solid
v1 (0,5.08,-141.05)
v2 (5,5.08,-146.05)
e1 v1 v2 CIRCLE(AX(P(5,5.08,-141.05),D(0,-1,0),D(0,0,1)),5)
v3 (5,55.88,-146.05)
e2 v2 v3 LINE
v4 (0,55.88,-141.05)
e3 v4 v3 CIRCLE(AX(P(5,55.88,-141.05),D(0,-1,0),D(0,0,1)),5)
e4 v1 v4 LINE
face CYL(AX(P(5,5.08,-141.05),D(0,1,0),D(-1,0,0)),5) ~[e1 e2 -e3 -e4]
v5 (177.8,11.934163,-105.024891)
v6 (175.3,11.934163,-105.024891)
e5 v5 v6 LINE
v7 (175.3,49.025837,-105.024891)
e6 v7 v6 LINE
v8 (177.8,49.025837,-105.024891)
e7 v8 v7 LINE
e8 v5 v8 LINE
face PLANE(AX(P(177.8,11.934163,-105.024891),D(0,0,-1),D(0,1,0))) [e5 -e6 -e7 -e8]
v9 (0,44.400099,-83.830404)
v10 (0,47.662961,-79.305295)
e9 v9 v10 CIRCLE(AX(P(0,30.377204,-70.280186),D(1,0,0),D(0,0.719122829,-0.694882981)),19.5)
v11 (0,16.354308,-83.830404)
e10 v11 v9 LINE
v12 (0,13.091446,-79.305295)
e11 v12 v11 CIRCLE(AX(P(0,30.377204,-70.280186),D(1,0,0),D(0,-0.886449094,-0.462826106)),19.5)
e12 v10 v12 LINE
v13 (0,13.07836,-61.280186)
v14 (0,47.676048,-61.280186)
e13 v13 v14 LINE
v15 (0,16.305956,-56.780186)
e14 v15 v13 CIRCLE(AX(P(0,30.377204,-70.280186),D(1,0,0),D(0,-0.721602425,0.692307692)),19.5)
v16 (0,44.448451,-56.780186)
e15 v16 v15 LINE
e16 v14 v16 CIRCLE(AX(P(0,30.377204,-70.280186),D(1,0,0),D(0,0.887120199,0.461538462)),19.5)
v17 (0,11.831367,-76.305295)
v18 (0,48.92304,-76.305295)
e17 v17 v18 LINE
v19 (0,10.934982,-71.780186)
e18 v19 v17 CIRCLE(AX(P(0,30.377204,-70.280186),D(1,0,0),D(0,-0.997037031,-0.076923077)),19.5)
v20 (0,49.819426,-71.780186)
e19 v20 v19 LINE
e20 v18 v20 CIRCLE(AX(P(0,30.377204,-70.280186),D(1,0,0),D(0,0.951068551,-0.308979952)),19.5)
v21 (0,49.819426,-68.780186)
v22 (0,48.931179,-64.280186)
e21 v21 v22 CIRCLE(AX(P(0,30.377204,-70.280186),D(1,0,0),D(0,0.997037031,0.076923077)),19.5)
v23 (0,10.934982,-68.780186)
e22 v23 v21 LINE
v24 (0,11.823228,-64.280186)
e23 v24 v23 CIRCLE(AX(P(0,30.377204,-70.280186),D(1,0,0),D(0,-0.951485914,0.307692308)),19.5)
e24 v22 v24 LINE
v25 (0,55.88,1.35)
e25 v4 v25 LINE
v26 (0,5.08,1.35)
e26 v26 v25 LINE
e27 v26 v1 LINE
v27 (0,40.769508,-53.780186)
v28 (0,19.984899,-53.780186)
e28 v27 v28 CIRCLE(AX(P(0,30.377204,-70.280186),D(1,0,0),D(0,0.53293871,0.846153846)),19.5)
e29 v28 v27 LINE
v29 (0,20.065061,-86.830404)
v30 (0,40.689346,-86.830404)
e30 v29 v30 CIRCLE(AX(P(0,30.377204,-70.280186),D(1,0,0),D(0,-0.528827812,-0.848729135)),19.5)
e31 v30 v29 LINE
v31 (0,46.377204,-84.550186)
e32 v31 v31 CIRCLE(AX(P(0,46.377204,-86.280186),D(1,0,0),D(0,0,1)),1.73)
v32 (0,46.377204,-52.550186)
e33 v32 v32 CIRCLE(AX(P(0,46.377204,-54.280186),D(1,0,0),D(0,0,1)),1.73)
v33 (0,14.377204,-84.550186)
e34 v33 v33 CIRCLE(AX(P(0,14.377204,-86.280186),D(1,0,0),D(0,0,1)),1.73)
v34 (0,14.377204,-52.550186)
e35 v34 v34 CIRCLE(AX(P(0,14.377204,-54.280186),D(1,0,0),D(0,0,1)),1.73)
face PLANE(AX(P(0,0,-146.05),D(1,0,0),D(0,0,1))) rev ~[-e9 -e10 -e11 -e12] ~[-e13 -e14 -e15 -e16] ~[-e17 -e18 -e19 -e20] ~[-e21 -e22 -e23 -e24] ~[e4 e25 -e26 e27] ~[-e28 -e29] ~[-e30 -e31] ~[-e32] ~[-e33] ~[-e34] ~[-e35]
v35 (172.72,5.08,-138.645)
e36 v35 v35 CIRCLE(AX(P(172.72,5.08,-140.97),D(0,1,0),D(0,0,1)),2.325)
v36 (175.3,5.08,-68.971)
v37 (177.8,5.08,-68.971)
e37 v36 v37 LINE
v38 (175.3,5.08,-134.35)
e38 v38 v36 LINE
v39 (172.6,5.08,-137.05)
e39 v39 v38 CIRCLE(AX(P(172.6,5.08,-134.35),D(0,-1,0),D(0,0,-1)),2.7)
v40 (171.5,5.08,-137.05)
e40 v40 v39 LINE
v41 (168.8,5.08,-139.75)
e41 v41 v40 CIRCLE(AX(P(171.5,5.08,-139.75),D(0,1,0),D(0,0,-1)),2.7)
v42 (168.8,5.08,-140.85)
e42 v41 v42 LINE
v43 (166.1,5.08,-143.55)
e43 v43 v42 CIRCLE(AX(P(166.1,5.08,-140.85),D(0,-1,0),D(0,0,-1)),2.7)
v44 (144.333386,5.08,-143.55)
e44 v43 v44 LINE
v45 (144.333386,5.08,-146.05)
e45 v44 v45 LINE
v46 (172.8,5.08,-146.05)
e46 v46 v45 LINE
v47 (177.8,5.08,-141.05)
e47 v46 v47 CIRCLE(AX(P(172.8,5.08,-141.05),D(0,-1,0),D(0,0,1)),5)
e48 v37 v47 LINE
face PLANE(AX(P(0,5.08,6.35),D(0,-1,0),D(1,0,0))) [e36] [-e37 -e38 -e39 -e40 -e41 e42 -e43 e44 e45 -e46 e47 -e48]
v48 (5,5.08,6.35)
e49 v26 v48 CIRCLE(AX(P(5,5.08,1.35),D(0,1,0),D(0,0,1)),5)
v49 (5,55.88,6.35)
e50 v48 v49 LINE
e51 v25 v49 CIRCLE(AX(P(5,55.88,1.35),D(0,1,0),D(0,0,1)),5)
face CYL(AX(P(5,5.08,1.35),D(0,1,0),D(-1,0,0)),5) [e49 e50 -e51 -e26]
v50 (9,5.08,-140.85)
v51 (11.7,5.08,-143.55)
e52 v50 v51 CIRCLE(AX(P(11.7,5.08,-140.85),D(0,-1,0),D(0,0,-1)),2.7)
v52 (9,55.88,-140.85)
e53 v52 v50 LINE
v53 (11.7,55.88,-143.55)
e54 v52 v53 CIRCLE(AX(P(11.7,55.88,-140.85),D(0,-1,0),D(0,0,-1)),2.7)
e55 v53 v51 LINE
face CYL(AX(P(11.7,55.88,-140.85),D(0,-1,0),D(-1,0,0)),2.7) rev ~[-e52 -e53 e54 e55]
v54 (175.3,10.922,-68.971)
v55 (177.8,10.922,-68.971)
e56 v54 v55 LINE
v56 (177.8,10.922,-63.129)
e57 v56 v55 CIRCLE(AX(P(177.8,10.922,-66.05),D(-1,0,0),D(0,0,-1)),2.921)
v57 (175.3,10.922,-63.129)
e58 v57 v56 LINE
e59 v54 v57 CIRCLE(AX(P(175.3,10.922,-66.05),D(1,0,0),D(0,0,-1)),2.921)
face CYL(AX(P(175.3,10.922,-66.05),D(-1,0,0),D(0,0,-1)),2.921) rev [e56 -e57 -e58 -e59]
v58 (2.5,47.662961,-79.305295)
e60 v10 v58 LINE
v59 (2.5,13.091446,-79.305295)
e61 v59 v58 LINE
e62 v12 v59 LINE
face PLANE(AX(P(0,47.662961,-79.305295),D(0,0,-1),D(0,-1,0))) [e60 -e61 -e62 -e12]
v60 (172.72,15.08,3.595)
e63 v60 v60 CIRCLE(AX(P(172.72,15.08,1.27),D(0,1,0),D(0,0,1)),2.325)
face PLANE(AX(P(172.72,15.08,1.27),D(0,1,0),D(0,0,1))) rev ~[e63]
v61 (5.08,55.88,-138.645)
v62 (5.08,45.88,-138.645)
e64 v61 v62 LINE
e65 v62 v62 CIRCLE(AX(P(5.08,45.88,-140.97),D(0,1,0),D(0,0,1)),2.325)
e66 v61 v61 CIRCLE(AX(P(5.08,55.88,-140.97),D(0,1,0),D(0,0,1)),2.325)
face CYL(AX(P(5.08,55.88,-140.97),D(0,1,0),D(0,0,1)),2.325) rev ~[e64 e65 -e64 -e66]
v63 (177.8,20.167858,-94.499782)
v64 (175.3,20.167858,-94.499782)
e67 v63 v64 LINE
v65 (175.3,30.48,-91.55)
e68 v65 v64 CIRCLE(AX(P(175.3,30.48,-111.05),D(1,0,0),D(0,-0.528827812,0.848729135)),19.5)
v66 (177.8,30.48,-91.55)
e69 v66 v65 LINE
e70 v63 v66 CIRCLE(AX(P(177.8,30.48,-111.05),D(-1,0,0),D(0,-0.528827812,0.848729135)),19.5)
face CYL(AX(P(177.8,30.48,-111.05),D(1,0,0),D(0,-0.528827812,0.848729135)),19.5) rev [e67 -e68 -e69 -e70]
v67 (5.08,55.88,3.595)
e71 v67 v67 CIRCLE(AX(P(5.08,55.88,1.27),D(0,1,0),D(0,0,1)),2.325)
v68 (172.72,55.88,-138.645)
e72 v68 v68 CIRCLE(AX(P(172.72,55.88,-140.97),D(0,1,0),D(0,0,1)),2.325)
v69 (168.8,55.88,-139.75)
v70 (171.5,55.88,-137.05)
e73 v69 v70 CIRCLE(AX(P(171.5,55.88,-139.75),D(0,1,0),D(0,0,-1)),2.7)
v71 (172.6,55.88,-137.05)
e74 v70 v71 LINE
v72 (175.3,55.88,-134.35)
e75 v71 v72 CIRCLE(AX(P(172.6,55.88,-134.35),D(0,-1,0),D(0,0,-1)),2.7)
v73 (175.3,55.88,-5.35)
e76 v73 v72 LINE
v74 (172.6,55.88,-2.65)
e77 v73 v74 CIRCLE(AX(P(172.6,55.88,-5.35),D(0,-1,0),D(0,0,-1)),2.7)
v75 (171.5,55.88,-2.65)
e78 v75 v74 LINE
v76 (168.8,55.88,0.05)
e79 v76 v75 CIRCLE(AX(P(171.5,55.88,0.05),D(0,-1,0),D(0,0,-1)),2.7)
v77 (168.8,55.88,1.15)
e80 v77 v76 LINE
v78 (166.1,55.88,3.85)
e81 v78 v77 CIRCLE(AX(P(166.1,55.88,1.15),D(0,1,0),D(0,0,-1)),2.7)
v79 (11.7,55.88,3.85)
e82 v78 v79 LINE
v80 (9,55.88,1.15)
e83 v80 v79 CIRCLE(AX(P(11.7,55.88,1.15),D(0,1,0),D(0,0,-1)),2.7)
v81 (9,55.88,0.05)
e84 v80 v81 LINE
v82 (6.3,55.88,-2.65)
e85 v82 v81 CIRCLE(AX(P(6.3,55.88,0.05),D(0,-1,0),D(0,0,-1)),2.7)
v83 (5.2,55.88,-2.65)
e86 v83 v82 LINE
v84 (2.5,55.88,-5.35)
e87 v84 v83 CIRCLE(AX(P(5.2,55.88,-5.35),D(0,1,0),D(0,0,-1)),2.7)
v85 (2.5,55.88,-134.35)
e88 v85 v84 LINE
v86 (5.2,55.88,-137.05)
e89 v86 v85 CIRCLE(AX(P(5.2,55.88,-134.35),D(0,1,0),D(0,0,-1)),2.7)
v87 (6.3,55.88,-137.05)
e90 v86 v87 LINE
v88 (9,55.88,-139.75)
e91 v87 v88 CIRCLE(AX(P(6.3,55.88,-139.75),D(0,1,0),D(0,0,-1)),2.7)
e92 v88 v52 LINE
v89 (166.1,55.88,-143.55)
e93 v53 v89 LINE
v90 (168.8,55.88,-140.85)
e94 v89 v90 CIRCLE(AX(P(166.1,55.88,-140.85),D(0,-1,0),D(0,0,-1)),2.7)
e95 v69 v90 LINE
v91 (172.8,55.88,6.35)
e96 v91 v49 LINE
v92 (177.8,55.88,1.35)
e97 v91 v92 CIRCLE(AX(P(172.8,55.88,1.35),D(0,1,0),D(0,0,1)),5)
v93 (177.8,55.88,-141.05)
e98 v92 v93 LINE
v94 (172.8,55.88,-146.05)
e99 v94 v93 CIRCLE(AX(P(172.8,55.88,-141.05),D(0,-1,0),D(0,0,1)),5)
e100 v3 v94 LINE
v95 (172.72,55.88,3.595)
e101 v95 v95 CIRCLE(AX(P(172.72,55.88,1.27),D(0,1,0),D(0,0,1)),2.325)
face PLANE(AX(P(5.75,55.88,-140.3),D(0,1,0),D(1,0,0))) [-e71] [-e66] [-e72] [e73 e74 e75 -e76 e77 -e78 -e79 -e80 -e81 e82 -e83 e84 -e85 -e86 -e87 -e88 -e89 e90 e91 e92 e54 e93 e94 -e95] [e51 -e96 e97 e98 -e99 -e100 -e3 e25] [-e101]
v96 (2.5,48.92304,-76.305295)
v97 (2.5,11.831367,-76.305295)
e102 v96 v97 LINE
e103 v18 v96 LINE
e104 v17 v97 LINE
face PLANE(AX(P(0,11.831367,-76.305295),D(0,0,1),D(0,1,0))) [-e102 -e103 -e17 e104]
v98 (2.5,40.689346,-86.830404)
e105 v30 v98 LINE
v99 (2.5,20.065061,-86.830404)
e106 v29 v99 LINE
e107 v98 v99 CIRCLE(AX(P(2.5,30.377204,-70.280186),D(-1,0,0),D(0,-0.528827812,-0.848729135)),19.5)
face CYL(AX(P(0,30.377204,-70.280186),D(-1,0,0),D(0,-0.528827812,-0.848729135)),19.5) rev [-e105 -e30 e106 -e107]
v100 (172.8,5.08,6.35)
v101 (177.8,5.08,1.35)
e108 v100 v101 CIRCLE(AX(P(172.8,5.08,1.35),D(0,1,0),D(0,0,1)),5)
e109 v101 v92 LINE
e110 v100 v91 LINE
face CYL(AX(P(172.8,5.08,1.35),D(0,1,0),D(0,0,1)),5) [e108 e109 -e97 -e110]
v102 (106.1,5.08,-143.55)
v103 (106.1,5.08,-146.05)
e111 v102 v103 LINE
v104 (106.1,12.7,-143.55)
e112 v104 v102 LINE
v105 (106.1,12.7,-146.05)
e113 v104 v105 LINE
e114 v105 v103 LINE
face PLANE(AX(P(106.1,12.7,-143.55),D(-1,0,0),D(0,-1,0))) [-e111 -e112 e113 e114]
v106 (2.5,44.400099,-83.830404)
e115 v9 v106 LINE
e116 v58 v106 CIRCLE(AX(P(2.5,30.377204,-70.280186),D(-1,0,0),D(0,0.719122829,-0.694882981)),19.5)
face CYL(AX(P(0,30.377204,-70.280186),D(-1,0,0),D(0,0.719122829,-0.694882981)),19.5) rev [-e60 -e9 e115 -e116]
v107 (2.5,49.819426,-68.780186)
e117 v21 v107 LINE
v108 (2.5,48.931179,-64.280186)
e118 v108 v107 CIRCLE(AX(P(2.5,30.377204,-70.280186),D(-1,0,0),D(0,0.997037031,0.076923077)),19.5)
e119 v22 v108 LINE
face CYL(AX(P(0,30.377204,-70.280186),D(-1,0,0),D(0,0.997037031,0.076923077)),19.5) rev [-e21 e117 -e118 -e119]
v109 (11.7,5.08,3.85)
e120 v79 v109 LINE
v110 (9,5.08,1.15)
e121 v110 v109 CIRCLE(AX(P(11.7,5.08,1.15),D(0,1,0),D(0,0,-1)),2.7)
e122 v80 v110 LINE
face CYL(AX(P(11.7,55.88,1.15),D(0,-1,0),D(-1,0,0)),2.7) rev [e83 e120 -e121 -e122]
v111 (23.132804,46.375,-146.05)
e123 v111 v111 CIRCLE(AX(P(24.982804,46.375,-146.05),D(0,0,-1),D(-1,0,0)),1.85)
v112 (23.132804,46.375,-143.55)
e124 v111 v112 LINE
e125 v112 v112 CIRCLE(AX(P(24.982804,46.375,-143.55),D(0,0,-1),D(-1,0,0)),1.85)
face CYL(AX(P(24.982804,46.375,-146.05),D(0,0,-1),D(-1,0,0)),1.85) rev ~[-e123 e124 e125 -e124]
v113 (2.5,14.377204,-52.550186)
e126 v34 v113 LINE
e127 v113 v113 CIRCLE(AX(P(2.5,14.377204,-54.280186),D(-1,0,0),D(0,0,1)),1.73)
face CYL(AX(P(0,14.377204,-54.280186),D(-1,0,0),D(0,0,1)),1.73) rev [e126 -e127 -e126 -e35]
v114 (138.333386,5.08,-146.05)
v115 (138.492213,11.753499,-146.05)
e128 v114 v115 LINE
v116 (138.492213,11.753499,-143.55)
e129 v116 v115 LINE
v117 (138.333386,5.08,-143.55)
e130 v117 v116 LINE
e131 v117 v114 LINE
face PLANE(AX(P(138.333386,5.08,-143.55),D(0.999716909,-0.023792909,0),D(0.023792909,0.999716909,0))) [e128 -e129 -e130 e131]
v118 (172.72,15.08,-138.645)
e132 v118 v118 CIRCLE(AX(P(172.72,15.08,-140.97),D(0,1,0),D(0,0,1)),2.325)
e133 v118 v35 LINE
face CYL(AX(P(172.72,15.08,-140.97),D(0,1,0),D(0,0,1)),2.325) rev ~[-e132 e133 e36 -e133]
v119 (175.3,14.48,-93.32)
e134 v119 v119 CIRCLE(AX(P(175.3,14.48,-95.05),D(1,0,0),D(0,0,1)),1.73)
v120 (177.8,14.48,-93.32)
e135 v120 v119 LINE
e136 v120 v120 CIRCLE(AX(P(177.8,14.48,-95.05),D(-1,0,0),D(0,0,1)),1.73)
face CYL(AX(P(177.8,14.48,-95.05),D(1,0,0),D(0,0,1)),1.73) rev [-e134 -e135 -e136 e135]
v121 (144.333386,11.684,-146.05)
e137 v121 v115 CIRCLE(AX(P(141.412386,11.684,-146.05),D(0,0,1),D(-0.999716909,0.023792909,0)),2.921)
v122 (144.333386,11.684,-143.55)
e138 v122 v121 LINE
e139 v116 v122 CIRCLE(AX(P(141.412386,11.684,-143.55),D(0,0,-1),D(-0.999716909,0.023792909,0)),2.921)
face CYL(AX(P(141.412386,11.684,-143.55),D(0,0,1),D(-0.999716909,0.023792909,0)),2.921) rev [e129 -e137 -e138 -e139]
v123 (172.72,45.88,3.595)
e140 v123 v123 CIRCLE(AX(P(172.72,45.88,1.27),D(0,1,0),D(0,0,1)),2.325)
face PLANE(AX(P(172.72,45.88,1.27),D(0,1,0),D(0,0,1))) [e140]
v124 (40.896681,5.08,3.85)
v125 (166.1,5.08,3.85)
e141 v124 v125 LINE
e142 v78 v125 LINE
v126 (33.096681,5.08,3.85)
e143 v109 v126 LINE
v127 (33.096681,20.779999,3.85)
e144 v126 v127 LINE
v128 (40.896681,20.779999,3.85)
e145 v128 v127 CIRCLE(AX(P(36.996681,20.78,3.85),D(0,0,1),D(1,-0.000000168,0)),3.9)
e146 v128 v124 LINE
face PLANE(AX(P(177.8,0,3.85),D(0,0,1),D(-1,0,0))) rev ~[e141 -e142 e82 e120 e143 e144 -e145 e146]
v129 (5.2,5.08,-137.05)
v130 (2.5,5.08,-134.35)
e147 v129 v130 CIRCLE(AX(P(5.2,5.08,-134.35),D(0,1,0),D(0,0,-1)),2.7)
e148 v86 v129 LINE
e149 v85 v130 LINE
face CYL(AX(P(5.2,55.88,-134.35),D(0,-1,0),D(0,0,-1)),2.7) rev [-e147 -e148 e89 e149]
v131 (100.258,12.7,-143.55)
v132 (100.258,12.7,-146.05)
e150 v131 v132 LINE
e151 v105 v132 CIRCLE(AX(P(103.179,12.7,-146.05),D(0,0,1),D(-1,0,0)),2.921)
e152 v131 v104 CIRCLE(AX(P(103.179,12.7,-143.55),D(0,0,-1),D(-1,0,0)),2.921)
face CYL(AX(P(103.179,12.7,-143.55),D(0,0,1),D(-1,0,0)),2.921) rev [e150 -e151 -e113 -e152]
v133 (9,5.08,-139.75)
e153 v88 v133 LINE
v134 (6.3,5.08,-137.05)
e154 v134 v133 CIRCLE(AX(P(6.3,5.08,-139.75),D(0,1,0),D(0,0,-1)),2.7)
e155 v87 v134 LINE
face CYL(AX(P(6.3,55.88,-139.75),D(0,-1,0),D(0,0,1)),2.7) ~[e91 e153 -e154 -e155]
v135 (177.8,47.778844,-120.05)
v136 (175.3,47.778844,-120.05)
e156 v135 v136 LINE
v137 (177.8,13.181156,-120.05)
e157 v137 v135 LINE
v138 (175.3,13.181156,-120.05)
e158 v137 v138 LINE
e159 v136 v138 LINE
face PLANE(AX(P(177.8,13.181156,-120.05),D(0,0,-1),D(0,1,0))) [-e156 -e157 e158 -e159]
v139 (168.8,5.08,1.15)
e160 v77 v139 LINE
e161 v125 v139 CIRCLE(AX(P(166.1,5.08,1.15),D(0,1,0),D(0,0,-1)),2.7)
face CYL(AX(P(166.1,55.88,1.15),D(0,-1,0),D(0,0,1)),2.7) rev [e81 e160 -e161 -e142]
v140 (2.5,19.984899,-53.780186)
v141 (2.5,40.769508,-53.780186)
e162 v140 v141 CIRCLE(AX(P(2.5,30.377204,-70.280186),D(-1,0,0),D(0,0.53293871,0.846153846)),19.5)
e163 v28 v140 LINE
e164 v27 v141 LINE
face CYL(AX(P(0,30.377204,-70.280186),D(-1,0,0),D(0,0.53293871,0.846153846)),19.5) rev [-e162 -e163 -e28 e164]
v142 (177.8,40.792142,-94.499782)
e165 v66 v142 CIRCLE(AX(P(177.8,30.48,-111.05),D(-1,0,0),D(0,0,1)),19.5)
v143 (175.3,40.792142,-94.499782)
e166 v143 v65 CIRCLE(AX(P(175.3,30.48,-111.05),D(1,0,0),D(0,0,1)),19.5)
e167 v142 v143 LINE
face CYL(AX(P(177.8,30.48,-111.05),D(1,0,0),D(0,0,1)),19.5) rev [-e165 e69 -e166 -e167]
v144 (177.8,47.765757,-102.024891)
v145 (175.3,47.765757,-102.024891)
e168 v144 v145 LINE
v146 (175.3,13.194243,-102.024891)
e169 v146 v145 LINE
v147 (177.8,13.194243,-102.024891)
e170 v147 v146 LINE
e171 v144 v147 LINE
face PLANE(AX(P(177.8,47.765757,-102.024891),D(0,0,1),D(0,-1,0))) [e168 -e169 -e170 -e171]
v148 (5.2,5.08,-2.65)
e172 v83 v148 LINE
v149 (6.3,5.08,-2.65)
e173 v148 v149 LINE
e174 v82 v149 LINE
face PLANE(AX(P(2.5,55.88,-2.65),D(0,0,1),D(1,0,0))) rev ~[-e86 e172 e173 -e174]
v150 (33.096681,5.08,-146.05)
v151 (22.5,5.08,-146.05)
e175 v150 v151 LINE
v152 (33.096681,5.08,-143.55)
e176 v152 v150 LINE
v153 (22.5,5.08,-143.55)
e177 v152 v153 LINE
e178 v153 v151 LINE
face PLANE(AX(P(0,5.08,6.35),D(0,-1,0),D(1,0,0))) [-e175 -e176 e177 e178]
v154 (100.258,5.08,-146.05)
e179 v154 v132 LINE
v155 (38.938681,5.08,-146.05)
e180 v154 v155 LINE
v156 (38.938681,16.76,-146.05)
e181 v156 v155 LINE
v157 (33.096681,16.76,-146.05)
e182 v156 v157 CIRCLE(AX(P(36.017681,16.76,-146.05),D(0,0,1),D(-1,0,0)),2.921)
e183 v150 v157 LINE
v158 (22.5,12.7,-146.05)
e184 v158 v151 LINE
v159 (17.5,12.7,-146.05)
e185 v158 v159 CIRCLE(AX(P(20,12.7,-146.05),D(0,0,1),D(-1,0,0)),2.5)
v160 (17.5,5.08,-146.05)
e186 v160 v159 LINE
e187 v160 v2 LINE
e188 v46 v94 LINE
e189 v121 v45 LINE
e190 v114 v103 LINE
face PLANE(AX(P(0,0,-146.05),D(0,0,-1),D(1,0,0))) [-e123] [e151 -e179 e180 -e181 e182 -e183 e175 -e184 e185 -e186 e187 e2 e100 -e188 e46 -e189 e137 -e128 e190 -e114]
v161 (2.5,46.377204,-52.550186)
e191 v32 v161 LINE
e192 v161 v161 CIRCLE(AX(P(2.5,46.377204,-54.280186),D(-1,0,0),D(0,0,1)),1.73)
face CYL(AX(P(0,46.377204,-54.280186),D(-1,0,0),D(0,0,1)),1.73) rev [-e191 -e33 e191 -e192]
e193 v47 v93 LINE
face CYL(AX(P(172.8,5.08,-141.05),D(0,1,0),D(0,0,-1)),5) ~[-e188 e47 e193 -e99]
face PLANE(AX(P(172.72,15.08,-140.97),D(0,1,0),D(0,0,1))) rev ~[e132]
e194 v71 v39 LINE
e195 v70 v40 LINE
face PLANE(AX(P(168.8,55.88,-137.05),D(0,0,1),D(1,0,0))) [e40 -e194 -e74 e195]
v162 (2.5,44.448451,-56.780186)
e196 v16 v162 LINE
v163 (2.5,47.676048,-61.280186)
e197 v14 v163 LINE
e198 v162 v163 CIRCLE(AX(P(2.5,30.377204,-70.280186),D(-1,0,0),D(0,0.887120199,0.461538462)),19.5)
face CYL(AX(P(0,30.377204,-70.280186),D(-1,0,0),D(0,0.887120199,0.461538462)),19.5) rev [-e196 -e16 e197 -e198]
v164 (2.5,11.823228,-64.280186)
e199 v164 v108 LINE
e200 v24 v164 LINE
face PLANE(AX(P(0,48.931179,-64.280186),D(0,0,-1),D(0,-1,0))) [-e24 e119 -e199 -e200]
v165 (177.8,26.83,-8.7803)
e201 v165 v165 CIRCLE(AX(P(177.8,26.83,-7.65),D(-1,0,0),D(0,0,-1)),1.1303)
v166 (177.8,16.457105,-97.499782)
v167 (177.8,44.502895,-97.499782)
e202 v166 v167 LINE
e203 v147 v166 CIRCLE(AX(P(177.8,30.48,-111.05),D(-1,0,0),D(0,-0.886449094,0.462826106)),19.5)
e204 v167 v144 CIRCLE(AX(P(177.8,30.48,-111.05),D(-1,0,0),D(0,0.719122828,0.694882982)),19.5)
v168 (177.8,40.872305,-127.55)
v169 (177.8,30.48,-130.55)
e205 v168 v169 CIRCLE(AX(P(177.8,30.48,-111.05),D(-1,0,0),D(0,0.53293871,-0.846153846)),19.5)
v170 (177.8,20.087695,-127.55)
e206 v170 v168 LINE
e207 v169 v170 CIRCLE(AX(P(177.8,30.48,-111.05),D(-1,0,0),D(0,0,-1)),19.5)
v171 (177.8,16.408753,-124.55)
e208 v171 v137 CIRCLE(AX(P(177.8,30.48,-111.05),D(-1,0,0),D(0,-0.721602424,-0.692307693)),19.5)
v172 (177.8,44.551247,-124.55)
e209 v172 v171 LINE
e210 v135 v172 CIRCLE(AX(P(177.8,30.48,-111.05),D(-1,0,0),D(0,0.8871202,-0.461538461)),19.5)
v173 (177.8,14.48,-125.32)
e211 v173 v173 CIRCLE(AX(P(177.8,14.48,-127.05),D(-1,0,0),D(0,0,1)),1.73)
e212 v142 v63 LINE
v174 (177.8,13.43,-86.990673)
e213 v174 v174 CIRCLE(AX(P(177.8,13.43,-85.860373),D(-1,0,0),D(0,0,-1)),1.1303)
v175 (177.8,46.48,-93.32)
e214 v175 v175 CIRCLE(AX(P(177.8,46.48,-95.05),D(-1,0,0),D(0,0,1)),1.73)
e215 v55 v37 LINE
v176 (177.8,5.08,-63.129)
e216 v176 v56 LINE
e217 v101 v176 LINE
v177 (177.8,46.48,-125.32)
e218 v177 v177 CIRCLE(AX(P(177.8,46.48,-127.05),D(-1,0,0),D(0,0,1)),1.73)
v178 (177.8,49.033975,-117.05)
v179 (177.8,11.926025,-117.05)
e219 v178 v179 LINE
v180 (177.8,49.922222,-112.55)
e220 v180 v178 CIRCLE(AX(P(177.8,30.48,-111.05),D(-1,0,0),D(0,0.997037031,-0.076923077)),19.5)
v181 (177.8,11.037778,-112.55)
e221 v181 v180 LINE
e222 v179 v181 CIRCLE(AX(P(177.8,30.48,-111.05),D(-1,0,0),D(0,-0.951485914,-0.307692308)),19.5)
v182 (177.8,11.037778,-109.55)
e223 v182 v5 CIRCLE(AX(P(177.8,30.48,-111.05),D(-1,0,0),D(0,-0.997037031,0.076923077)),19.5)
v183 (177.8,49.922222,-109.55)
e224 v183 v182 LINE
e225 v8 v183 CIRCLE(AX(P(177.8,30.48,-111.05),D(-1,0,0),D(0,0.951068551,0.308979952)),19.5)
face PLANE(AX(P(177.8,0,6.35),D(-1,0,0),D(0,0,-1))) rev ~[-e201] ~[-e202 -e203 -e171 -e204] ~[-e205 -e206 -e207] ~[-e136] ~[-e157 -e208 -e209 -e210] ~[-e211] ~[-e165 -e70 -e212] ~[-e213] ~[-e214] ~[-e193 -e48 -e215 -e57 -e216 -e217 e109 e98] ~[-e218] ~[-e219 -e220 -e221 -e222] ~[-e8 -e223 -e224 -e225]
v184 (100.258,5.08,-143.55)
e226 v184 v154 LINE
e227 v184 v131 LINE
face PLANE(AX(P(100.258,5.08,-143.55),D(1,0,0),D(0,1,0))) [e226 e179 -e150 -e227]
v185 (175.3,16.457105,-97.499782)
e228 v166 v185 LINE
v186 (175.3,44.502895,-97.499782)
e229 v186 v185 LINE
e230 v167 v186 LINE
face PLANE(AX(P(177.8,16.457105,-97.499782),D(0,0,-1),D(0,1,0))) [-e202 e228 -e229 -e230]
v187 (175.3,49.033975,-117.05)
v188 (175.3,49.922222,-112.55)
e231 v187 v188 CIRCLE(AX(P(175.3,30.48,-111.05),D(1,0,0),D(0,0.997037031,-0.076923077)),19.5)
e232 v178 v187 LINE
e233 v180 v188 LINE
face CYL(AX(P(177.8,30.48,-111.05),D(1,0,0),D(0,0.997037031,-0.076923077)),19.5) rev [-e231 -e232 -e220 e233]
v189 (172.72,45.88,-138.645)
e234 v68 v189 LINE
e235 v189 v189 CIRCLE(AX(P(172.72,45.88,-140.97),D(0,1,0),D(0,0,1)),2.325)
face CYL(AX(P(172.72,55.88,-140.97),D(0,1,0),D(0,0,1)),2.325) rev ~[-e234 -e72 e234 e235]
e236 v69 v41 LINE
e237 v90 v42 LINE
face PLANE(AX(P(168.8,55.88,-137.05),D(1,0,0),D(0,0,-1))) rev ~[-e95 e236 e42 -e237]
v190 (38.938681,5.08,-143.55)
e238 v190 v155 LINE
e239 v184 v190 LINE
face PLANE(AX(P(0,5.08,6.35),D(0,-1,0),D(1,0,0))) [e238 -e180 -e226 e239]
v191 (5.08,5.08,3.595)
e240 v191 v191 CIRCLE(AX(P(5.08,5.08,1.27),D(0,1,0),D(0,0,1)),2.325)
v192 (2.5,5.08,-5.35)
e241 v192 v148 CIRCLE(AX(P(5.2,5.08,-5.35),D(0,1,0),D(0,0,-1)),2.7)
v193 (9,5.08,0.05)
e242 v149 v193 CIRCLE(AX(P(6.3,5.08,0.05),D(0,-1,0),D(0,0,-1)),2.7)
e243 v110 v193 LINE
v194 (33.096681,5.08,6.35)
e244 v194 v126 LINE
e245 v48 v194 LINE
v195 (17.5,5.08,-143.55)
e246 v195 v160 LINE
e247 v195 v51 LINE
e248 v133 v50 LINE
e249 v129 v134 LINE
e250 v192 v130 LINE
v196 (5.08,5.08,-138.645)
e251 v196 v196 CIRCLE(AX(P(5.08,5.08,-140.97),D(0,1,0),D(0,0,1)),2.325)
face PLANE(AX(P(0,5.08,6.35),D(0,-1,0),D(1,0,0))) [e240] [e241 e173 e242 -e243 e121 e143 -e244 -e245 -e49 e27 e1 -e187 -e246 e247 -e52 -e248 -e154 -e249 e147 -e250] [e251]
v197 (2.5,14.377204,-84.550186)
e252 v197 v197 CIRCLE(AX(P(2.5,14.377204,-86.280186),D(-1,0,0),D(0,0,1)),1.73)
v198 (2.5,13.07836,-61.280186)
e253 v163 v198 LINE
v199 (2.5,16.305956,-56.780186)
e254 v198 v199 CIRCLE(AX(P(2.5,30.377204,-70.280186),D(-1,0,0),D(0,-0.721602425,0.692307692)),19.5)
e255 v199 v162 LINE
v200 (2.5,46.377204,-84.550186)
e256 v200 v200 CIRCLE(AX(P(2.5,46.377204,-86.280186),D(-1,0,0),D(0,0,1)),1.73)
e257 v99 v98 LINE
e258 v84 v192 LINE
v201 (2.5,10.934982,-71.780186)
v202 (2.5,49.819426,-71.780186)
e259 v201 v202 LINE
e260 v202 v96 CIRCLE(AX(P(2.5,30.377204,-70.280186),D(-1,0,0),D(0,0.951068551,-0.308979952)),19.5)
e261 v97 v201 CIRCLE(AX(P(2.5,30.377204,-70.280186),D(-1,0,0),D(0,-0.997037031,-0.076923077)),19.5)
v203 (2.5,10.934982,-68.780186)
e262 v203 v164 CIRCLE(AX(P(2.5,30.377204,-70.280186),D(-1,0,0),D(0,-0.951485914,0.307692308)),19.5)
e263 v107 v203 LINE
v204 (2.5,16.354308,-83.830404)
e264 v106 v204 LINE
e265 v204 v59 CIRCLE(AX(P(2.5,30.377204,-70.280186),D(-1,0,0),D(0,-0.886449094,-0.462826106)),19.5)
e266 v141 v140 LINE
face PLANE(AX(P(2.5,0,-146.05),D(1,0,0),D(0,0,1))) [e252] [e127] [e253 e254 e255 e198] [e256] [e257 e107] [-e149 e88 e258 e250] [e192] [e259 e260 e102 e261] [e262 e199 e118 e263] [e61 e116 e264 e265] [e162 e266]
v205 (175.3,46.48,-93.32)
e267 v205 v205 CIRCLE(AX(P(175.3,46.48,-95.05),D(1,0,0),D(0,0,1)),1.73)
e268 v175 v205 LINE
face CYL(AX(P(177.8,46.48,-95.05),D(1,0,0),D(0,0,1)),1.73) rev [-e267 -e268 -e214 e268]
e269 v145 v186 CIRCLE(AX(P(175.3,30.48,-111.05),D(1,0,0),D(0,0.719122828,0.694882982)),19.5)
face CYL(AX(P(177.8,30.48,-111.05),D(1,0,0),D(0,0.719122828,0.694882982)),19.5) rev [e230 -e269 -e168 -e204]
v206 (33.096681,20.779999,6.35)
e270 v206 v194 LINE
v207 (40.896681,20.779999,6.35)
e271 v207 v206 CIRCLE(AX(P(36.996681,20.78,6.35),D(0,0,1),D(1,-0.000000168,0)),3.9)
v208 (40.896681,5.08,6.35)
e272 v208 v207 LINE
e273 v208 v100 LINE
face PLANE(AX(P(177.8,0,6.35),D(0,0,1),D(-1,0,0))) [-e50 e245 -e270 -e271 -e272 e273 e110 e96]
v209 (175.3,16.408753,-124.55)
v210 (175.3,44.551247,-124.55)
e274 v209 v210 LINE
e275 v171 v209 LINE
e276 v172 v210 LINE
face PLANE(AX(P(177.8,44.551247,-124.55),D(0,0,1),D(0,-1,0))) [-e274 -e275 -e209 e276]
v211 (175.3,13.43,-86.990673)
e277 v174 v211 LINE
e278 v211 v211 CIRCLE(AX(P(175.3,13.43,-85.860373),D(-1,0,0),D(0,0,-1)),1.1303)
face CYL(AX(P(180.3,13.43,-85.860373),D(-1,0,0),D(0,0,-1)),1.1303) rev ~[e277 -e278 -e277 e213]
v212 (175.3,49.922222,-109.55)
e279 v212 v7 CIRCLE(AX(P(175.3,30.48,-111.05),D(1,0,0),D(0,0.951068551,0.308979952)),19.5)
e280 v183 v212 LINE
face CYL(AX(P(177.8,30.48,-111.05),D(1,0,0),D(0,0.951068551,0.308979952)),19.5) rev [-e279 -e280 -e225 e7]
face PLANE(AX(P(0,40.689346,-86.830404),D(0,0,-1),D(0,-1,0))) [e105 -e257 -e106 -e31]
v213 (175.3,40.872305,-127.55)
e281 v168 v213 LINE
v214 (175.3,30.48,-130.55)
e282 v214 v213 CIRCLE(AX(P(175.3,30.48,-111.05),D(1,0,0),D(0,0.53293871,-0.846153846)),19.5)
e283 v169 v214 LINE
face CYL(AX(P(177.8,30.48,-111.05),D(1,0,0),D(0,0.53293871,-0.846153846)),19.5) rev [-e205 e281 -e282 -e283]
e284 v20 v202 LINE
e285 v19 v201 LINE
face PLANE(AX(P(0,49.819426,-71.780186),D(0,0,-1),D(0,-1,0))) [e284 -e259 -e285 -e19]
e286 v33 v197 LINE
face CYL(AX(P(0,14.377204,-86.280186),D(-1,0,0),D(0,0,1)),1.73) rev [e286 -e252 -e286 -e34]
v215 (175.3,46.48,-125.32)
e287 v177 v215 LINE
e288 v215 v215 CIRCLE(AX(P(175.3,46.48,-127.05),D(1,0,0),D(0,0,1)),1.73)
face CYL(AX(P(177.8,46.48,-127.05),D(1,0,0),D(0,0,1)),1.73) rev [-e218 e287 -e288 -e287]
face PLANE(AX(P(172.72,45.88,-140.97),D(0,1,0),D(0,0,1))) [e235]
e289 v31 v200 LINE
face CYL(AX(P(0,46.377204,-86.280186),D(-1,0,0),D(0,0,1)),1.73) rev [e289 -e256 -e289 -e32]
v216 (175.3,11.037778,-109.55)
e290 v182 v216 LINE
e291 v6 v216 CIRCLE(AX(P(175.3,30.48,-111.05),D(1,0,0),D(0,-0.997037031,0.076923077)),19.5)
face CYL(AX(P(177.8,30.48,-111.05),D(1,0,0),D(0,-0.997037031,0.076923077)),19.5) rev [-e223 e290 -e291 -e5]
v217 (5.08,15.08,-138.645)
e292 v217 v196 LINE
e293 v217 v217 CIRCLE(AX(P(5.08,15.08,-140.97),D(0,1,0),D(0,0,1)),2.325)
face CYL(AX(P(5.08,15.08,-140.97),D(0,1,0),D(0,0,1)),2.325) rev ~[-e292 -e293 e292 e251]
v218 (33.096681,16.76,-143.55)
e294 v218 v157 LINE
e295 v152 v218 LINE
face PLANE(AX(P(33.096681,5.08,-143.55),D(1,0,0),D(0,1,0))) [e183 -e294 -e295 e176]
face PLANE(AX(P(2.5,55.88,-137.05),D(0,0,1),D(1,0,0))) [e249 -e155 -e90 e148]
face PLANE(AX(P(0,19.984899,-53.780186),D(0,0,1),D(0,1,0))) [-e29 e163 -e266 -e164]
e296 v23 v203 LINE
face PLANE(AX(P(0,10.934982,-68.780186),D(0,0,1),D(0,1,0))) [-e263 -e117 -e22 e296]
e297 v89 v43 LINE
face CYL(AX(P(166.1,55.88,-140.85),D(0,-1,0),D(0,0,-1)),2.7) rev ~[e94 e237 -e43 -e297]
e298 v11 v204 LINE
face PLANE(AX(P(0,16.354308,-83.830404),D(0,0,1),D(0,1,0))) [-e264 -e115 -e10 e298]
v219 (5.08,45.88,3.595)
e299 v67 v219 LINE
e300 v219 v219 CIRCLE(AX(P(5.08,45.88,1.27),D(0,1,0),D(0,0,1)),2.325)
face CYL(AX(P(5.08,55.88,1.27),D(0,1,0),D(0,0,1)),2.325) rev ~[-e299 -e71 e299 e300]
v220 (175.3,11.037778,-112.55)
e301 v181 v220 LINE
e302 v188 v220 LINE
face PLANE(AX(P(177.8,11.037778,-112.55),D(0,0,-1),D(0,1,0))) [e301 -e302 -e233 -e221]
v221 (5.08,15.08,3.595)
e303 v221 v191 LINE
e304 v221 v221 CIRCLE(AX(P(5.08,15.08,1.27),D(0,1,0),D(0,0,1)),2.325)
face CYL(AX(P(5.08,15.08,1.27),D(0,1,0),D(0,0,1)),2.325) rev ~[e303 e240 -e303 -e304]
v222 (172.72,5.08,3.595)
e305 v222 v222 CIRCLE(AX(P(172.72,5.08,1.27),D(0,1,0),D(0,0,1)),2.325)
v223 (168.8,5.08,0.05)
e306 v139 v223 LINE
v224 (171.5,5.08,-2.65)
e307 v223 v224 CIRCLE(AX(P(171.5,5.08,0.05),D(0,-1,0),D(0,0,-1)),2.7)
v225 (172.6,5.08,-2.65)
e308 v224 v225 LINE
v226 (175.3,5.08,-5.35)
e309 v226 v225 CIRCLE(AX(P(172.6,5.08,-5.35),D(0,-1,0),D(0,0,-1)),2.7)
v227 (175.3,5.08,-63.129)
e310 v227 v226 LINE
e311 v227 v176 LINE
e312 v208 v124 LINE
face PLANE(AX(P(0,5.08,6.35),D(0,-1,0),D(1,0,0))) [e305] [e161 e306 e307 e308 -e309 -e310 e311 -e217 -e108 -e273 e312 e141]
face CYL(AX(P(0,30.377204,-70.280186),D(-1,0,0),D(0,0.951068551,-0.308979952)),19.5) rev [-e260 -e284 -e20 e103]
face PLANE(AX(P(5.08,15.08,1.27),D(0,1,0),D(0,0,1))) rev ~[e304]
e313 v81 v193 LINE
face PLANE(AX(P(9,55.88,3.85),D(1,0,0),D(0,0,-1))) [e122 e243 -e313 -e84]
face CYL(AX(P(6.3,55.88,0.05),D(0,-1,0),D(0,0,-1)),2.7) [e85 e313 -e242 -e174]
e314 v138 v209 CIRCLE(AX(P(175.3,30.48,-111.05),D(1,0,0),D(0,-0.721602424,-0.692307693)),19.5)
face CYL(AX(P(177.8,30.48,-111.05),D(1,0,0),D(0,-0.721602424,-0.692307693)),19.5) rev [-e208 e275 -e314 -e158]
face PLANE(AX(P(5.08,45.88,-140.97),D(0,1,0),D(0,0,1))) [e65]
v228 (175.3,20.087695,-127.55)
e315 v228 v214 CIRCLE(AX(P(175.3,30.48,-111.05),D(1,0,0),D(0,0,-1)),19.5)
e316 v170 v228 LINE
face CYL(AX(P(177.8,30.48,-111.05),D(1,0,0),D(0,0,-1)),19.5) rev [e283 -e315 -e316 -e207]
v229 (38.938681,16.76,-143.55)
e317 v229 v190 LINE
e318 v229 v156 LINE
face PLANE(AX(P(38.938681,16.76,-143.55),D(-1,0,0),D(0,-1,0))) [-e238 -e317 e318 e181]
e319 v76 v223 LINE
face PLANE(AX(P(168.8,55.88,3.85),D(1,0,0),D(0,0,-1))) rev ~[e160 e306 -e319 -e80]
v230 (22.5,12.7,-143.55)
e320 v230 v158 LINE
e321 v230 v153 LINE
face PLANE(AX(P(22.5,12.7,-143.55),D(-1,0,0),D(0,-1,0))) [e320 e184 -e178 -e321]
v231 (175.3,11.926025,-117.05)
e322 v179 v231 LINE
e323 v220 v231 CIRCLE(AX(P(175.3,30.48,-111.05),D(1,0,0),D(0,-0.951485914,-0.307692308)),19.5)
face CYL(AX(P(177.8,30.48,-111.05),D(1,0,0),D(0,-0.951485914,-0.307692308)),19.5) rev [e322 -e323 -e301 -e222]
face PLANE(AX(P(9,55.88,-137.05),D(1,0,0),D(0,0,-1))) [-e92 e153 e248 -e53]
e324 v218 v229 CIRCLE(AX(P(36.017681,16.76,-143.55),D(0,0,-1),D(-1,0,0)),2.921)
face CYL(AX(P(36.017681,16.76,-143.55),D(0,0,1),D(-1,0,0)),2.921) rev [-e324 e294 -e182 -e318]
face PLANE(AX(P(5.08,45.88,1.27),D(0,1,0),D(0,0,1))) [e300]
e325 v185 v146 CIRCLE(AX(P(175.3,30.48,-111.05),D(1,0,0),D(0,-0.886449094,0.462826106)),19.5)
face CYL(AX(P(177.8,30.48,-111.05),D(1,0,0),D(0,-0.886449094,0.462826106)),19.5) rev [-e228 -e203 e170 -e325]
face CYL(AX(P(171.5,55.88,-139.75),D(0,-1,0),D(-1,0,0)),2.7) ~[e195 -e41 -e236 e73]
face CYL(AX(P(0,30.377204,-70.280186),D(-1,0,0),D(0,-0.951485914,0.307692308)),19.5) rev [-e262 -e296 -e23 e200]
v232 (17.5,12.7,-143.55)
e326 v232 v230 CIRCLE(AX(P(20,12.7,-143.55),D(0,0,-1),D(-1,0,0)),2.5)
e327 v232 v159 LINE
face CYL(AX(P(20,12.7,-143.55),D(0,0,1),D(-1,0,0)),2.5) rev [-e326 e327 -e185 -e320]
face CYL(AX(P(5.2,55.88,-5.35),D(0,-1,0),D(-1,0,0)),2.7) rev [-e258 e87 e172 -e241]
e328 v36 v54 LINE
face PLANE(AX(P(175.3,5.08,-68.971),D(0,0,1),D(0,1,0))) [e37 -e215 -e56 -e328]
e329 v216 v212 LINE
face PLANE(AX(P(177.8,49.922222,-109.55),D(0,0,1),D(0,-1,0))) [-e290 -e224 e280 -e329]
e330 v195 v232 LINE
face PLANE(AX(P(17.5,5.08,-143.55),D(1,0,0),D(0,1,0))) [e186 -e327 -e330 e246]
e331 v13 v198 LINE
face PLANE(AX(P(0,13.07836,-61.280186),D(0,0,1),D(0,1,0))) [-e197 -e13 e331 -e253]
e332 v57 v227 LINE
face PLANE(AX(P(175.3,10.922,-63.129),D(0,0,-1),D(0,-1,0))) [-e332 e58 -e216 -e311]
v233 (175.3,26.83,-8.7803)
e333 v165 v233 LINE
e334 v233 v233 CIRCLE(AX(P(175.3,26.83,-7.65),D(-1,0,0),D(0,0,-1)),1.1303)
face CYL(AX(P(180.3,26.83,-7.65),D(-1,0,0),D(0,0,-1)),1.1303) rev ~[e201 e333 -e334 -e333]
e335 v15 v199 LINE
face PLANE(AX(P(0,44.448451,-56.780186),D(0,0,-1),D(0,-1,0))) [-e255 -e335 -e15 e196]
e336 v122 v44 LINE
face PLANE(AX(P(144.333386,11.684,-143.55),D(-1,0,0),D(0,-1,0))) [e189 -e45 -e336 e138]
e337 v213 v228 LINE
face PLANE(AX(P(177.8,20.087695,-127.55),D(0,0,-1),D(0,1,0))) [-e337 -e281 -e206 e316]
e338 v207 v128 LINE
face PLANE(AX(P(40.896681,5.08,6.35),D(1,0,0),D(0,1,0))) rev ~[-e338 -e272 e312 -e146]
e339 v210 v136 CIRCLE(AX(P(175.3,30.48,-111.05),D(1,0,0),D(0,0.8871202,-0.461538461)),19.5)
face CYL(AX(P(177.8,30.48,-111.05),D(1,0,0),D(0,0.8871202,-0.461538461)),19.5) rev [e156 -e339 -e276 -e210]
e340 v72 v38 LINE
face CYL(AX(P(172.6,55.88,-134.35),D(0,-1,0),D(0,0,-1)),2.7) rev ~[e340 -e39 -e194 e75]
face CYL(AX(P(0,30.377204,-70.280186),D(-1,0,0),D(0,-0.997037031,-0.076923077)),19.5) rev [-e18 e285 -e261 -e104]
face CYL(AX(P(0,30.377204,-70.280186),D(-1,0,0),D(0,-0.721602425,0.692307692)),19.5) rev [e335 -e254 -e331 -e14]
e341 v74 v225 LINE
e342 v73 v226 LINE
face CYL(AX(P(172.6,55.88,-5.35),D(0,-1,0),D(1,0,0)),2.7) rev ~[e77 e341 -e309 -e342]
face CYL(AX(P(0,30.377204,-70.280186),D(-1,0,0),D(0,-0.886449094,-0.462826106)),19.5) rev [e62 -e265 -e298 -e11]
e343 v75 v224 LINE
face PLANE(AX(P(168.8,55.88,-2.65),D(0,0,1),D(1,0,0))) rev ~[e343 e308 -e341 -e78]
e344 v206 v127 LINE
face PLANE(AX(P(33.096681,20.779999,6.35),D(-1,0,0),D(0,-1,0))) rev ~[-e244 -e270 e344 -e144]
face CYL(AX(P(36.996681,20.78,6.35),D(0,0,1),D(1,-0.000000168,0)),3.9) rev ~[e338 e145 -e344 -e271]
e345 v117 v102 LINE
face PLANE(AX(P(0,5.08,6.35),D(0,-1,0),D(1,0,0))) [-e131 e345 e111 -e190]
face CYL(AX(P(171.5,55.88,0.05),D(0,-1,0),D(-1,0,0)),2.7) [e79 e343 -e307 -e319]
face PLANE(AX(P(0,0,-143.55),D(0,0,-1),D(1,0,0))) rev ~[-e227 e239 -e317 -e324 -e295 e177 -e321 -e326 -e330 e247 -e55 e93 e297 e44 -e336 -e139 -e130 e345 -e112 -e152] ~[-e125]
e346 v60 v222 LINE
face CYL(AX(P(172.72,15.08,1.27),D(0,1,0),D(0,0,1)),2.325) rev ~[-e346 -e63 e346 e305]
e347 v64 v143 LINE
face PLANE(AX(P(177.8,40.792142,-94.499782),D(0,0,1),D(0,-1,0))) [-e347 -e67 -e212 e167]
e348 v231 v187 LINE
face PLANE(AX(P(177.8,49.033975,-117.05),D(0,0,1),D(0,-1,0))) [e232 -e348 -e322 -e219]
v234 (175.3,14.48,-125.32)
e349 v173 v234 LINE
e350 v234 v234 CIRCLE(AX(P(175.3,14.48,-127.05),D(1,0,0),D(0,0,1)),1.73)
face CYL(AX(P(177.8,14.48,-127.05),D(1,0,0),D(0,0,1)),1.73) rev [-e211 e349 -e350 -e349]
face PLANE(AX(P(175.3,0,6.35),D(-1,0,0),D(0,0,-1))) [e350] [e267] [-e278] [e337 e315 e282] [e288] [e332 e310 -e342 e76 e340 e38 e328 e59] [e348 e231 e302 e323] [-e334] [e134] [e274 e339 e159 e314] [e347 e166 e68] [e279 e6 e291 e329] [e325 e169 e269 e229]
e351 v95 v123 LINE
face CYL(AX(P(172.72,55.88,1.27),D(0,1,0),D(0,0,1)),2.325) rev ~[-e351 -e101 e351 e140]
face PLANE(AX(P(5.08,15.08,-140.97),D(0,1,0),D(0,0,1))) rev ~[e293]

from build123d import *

# Parameters (mm, degrees)
BOSS_EXTRUDE1_DEPTH           = 55.88
SHELL1_T                      = -2.5
SKETCH3_W                     = 6.5
SKETCH3_H                     = 6.5
BOSS_EXTRUDE2_DEPTH           = 53.38
SKETCH35_R                    = 2.325
TOP_HOLES_DEPTH               = 10
SKETCH10_W                    = 177.8
SKETCH10_H                    = 5.08
CUT_BOTTOM_OFF_DEPTH          = 241.751270817
BOTTOM_START                  = 10
SKETCH17_R                    = 2.325
BOTTOM_OF_TOP_HOLES_DEPTH     = 10
CUT_FOR_ETHERNET_CABLE_REACH  = 341.742
KEYCARD_REACH                 = 236.911
FILLET1_R                     = 2.7
USB_B_REACH                   = 241.177
FILLET2_R                     = 5
SKETCH23_R                    = 1.73
RIGHTFAN_DEPTH                = 10
SKETCH36_R                    = 1.73
CUT_EXTRUDE1_DEPTH            = 10
CUT_EXTRUDE2_REACH            = 242.751
SKETCH42_R                    = 1.85
CUT_EXTRUDE3_REACH            = 242.751
TAP_DRILL_FOR_4_40_TAP1_D     = 2.2606
TAP_DRILL_FOR_4_40_TAP1_DEPTH = 2.5


with BuildPart() as part:
    # Sketch1 → Boss-Extrude1 (new body)
    with BuildSketch(Plane(origin=(0, 0, 0), x_dir=(1, 0, 0), z_dir=(0, 1, 0))):
        Polygon((0, 0), (0, 146.05), (177.8, 146.05), (177.8, 0), (177.8, -6.35), (0, -6.35), align=None)
    extrude(amount=BOSS_EXTRUDE1_DEPTH)

    # Shell1
    shell1_openings = [part.faces().sort_by_distance(p)[0] for p in [
        (88.9, 55.88, -69.85),
    ]]
    offset(amount=SHELL1_T, openings=shell1_openings, kind=Kind.INTERSECTION)

    # Sketch3 → Boss-Extrude2 (add)
    with BuildSketch(Plane(origin=(0, 55.88, 0), x_dir=(1, 0, 0), z_dir=(0, 1, 0))):
        with Locations((5.75, 140.3)):
            Rectangle(SKETCH3_W, SKETCH3_H)
        with Locations((172.05, 140.3)):
            Rectangle(SKETCH3_W, SKETCH3_H)
        with Locations((172.05, -0.6)):
            Rectangle(SKETCH3_W, SKETCH3_H)
        with Locations((5.75, -0.6)):
            Rectangle(SKETCH3_W, SKETCH3_H)
    extrude(amount=-BOSS_EXTRUDE2_DEPTH)

    # Sketch35 → Top holes (cut)
    with BuildSketch(Plane(origin=(0, 55.88, -60.96), x_dir=(-1, 0, 0), z_dir=(0, 1, 0))):
        with Locations(Location((-172.72, 62.23, 0), (0, 0, 90))):
            Circle(SKETCH35_R)
        with Locations(Location((-5.08, 62.23, 0), (0, 0, 90))):
            Circle(SKETCH35_R)
        with Locations(Location((-172.72, -80.01, 0), (0, 0, 90))):
            Circle(SKETCH35_R)
        with Locations(Location((-5.08, -80.01, 0), (0, 0, 90))):
            Circle(SKETCH35_R)
    extrude(amount=-TOP_HOLES_DEPTH, mode=Mode.SUBTRACT)

    # Sketch10 → cut Bottom off (cut, through all)
    with BuildSketch(Plane.XY.offset(6.35)):
        with Locations((88.9, 2.54)):
            Rectangle(SKETCH10_W, SKETCH10_H)
    extrude(amount=-CUT_BOTTOM_OFF_DEPTH, mode=Mode.SUBTRACT)

    # Sketch17 → Bottom of Top holes (cut)
    with BuildSketch(Plane(origin=(0, 5.08, 5.08), x_dir=(1, 0, 0), z_dir=(0, 1, 0)).offset(BOTTOM_START)):
        with Locations(Location((5.08, 146.05, 0), (0, 0, 270))):
            Circle(SKETCH17_R)
        with Locations(Location((172.72, 146.05, 0), (0, 0, 270))):
            Circle(SKETCH17_R)
        with Locations(Location((5.08, 3.81, 0), (0, 0, 270))):
            Circle(SKETCH17_R)
        with Locations(Location((172.72, 3.81, 0), (0, 0, 270))):
            Circle(SKETCH17_R)
    extrude(amount=-BOTTOM_OF_TOP_HOLES_DEPTH, mode=Mode.SUBTRACT)

    # Sketch12 → cut for Ethernet Cable (cut, up to next)
    with BuildSketch(Plane(origin=(299.72, 0, -143.55), x_dir=(1, 0, 0), z_dir=(0, 0, 1)), mode=Mode.PRIVATE) as cut_for_ethernet_cable_sk1:
        with BuildLine():
            Line((-155.386614113, 11.683999534), (-155.386614113, 5.08))
            Line((-155.386614113, 5.08), (-161.386614113, 5.08))
            Line((-161.386614113, 5.08), (-161.227787203, 11.753498622))
            ThreePointArc((-161.227787203, 11.753498622), (-158.272862109, 14.604792799), (-155.386614113, 11.683999534))
        make_face()
    cut_for_ethernet_cable_tool1 = extrude(cut_for_ethernet_cable_sk1.sketch, amount=-CUT_FOR_ETHERNET_CABLE_REACH, mode=Mode.PRIVATE) & part.part
    add(cut_for_ethernet_cable_tool1.solids().sort_by_distance((141.382684, 9.530384, -143.55))[0], mode=Mode.SUBTRACT)

    # Sketch16 → Keycard (cut, up to next)
    with BuildSketch(Plane.ZY.offset(-175.3), mode=Mode.PRIVATE) as keycard_sk1:
        with BuildLine():
            Line((-63.129, 10.922), (-63.129, 5.08))
            Line((-63.129, 5.08), (-68.971, 5.08))
            Line((-68.971, 5.08), (-68.971, 10.922))
            ThreePointArc((-68.971, 10.922), (-66.05, 13.843), (-63.129, 10.922))
        make_face()
    keycard_tool1 = extrude(keycard_sk1.sketch, amount=-KEYCARD_REACH, mode=Mode.PRIVATE) & part.part
    add(keycard_tool1.solids().sort_by_distance((175.3, 9.174195, -66.05))[0], mode=Mode.SUBTRACT)

    # Fillet1
    fillet1_edges = [part.edges().sort_by_distance(p)[0] for p in [
        (168.8, 30.48, -2.65),
        (175.3, 30.48, -2.65),
        (168.8, 30.48, 3.85),
        (9, 30.48, -2.65),
        (9, 30.48, 3.85),
        (2.5, 30.48, -2.65),
        (168.8, 30.48, -137.05),
        (168.8, 30.48, -143.55),
        (175.3, 30.48, -137.05),
        (9, 30.48, -137.05),
        (2.5, 30.48, -137.05),
        (9, 30.48, -143.55),
    ]]
    fillet(fillet1_edges, radius=FILLET1_R)

    # Sketch13 → usb B (cut, up to next)
    with BuildSketch(Plane.XY.offset(-143.55), mode=Mode.PRIVATE) as usb_b_sk1:
        with BuildLine():
            Line((106.1, 12.7), (106.1, 5.08))
            Line((106.1, 5.08), (100.258, 5.08))
            Line((100.258, 5.08), (100.258, 12.7))
            ThreePointArc((100.258, 12.7), (103.179, 15.621), (106.1, 12.7))
        make_face()
    usb_b_tool1 = extrude(usb_b_sk1.sketch, amount=-USB_B_REACH, mode=Mode.PRIVATE) & part.part
    # Sketch13 → usb B (cut, up to next)
    with BuildSketch(Plane.XY.offset(-143.55), mode=Mode.PRIVATE) as usb_b_sk2:
        with BuildLine():
            Line((38.938681111, 16.76), (38.938681111, 5.08))
            Line((38.938681111, 5.08), (33.096681111, 5.08))
            Line((33.096681111, 5.08), (33.096681111, 16.76))
            ThreePointArc((33.096681111, 16.76), (36.017681111, 19.681), (38.938681111, 16.76))
        make_face()
    usb_b_tool2 = extrude(usb_b_sk2.sketch, amount=-USB_B_REACH, mode=Mode.PRIVATE) & part.part
    # Sketch13 → usb B (cut, up to next)
    with BuildSketch(Plane.XY.offset(-143.55), mode=Mode.PRIVATE) as usb_b_sk3:
        with BuildLine():
            Line((22.5, 12.7), (22.5, 5.08))
            Line((22.5, 5.08), (17.5, 5.08))
            Line((17.5, 5.08), (17.5, 12.7))
            ThreePointArc((17.5, 12.7), (20, 15.2), (22.5, 12.7))
        make_face()
    usb_b_tool3 = extrude(usb_b_sk3.sketch, amount=-USB_B_REACH, mode=Mode.PRIVATE) & part.part
    add(usb_b_tool1.solids().sort_by_distance((103.179, 10.05851, -143.55))[0], mode=Mode.SUBTRACT)
    add(usb_b_tool2.solids().sort_by_distance((36.017681, 12.082282, -143.55))[0], mode=Mode.SUBTRACT)
    add(usb_b_tool3.solids().sort_by_distance((20, 9.887992, -143.55))[0], mode=Mode.SUBTRACT)

    # Fillet2
    fillet2_edges = [part.edges().sort_by_distance(p)[0] for p in [
        (0, 30.48, -146.05),
        (177.8, 30.48, -146.05),
        (177.8, 30.48, 6.35),
        (0, 30.48, 6.35),
    ]]
    fillet(fillet2_edges, radius=FILLET2_R)

    # Sketch23 → RightFan (cut)
    with BuildSketch(Plane(origin=(177.8, 0, -323.85), x_dir=(0, 0, 1), z_dir=(-1, 0, 0))):
        with BuildLine():
            Line((206.8, 49.033975315), (206.8, 30.48))
            Line((206.8, 30.48), (211.3, 30.48))
            Line((211.3, 30.48), (211.3, 49.922222095))
            ThreePointArc((211.3, 49.922222095), (209.023792169, 49.610871763), (206.8, 49.033975315))
        make_face()
        with BuildLine():
            Line((211.3, 30.48), (206.8, 30.48))
            Line((206.8, 30.48), (206.8, 11.926024685))
            ThreePointArc((206.8, 11.926024685), (209.023792169, 11.349128237), (211.3, 11.037777905))
            Line((211.3, 11.037777905), (211.3, 30.48))
        make_face()
        with BuildLine():
            Line((199.3, 44.551247279), (199.3, 30.48))
            Line((199.3, 30.48), (203.8, 30.48))
            Line((203.8, 30.48), (203.8, 47.778843892))
            ThreePointArc((203.8, 47.778843892), (201.434840741, 46.32560365), (199.3, 44.551247279))
        make_face()
        with BuildLine():
            Line((203.8, 30.48), (199.3, 30.48))
            Line((199.3, 30.48), (199.3, 16.408752721))
            ThreePointArc((199.3, 16.408752721), (201.434840741, 14.63439635), (203.8, 13.181156108))
            Line((203.8, 13.181156108), (203.8, 30.48))
        make_face()
        with BuildLine():
            ThreePointArc((196.3, 40.872304845), (194.065006005, 35.888326913), (193.3, 30.48))
            Line((193.3, 30.48), (196.3, 30.48))
            Line((196.3, 30.48), (196.3, 40.872304845))
        make_face()
        with BuildLine():
            Line((196.3, 30.48), (193.3, 30.48))
            ThreePointArc((193.3, 30.48), (194.065006005, 25.071673087), (196.3, 20.087695155))
            Line((196.3, 20.087695155), (196.3, 30.48))
        make_face()
        with BuildLine():
            ThreePointArc((218.825109069, 49.025836749), (216.589154694, 49.608311653), (214.3, 49.922222095))
            Line((214.3, 49.922222095), (214.3, 11.037777905))
            ThreePointArc((214.3, 11.037777905), (216.589154694, 11.351688347), (218.825109069, 11.934163251))
            Line((218.825109069, 11.934163251), (218.825109069, 49.025836749))
        make_face()
        with BuildLine():
            ThreePointArc((226.350218139, 44.50289515), (224.204951426, 46.296987165), (221.825109069, 47.765757325))
            Line((221.825109069, 47.765757325), (221.825109069, 13.194242675))
            ThreePointArc((221.825109069, 13.194242675), (224.204951426, 14.663012835), (226.350218139, 16.45710485))
            Line((226.350218139, 16.45710485), (226.350218139, 44.50289515))
        make_face()
        with BuildLine():
            ThreePointArc((232.3, 30.48), (231.548056615, 35.842869861), (229.350218139, 40.792142336))
            Line((229.350218139, 40.792142336), (229.350218139, 20.167857664))
            ThreePointArc((229.350218139, 20.167857664), (231.548056615, 25.117130139), (232.3, 30.48))
        make_face()
        with Locations((196.8, 14.48)):
            Circle(SKETCH23_R)
        with Locations((228.8, 14.48)):
            Circle(SKETCH23_R)
        with Locations((228.8, 46.48)):
            Circle(SKETCH23_R)
        with Locations((196.8, 46.48)):
            Circle(SKETCH23_R)
    extrude(amount=RIGHTFAN_DEPTH, mode=Mode.SUBTRACT)

    # Sketch36 → Cut-Extrude1 (cut)
    with BuildSketch(Plane(origin=(0, 0, 323.85), x_dir=(0, 0, -1), z_dir=(1, 0, 0))):
        with BuildLine():
            ThreePointArc((377.630185666, 40.76950847), (374.630185666, 30.377203624), (377.630185666, 19.984898779))
            Line((377.630185666, 19.984898779), (377.630185666, 40.76950847))
        make_face()
        with BuildLine():
            Line((380.630185666, 44.448450904), (380.630185666, 16.305956345))
            ThreePointArc((380.630185666, 16.305956345), (382.765026408, 14.531599974), (385.130185666, 13.078359732))
            Line((385.130185666, 13.078359732), (385.130185666, 47.676047516))
            ThreePointArc((385.130185666, 47.676047516), (382.765026408, 46.222807274), (380.630185666, 44.448450904))
        make_face()
        with Locations(Location((378.130185666, 46.377203624, 0), (0, 0, 180))):
            Circle(SKETCH36_R)
        with Locations(Location((378.130185666, 14.377203624, 0), (0, 0, 180))):
            Circle(SKETCH36_R)
        with BuildLine():
            Line((388.130185666, 48.931178939), (388.130185666, 11.823228309))
            ThreePointArc((388.130185666, 11.823228309), (390.353977835, 11.246331861), (392.630185666, 10.934981529))
            Line((392.630185666, 10.934981529), (392.630185666, 49.819425719))
            ThreePointArc((392.630185666, 49.819425719), (390.353977835, 49.508075387), (388.130185666, 48.931178939))
        make_face()
        with BuildLine():
            ThreePointArc((400.155294736, 48.923040373), (397.919340361, 49.505515277), (395.630185666, 49.819425719))
            Line((395.630185666, 49.819425719), (395.630185666, 10.934981529))
            ThreePointArc((395.630185666, 10.934981529), (397.919340361, 11.248891971), (400.155294736, 11.831366876))
            Line((400.155294736, 11.831366876), (400.155294736, 48.923040373))
        make_face()
        with BuildLine():
            ThreePointArc((407.680403805, 44.400098775), (405.535137092, 46.194190789), (403.155294736, 47.662960949))
            Line((403.155294736, 47.662960949), (403.155294736, 13.0914463))
            ThreePointArc((403.155294736, 13.0914463), (405.535137092, 14.560216459), (407.680403805, 16.354308474))
            Line((407.680403805, 16.354308474), (407.680403805, 44.400098775))
        make_face()
        with BuildLine():
            ThreePointArc((410.680403805, 20.065061288), (413.630185666, 30.377203624), (410.680403805, 40.689345961))
            Line((410.680403805, 40.689345961), (410.680403805, 20.065061288))
        make_face()
        with Locations(Location((410.130185666, 46.377203624, 0), (0, 0, 180))):
            Circle(SKETCH36_R)
        with Locations(Location((410.130185666, 14.377203624, 0), (0, 0, 180))):
            Circle(SKETCH36_R)
    extrude(amount=CUT_EXTRUDE1_DEPTH, mode=Mode.SUBTRACT)

    # Sketch42 → Cut-Extrude2 (cut, up to next)
    with BuildSketch(Plane(origin=(0, 0, -146.05), x_dir=(-1, 0, 0), z_dir=(0, 0, -1)), mode=Mode.PRIVATE) as cut_extrude2_sk1:
        with Locations((-24.982804036, 46.375)):
            Circle(SKETCH42_R)
    cut_extrude2_tool1 = extrude(cut_extrude2_sk1.sketch, amount=-CUT_EXTRUDE2_REACH, mode=Mode.PRIVATE) & part.part
    add(cut_extrude2_tool1.solids().sort_by_distance((24.982804, 46.375, -146.05))[0], mode=Mode.SUBTRACT)

    # Sketch43 → Cut-Extrude3 (cut, up to next)
    with BuildSketch(Plane.XY.offset(6.35), mode=Mode.PRIVATE) as cut_extrude3_sk1:
        with BuildLine():
            Line((40.896681111, 5.08), (40.896681111, 20.779999344))
            ThreePointArc((40.896681111, 20.779999344), (36.996681111, 24.68), (33.096681111, 20.779999344))
            Line((33.096681111, 20.779999344), (33.096681111, 5.08))
            Line((33.096681111, 5.08), (40.896681111, 5.08))
        make_face()
    cut_extrude3_tool1 = extrude(cut_extrude3_sk1.sketch, amount=-CUT_EXTRUDE3_REACH, mode=Mode.PRIVATE) & part.part
    add(cut_extrude3_tool1.solids().sort_by_distance((36.996681, 14.481718, 6.35))[0], mode=Mode.SUBTRACT)

    # Tap Drill for #4-40 Tap1
    with Locations(Plane(origin=(177.8, 26.83, -7.65), x_dir=(0, 0, 1), z_dir=(1, 0, 0))):
        with Locations((0, 0), (-78.210373353, 13.4)):
            Hole(TAP_DRILL_FOR_4_40_TAP1_D / 2, depth=TAP_DRILL_FOR_4_40_TAP1_DEPTH)


solid = part.part
